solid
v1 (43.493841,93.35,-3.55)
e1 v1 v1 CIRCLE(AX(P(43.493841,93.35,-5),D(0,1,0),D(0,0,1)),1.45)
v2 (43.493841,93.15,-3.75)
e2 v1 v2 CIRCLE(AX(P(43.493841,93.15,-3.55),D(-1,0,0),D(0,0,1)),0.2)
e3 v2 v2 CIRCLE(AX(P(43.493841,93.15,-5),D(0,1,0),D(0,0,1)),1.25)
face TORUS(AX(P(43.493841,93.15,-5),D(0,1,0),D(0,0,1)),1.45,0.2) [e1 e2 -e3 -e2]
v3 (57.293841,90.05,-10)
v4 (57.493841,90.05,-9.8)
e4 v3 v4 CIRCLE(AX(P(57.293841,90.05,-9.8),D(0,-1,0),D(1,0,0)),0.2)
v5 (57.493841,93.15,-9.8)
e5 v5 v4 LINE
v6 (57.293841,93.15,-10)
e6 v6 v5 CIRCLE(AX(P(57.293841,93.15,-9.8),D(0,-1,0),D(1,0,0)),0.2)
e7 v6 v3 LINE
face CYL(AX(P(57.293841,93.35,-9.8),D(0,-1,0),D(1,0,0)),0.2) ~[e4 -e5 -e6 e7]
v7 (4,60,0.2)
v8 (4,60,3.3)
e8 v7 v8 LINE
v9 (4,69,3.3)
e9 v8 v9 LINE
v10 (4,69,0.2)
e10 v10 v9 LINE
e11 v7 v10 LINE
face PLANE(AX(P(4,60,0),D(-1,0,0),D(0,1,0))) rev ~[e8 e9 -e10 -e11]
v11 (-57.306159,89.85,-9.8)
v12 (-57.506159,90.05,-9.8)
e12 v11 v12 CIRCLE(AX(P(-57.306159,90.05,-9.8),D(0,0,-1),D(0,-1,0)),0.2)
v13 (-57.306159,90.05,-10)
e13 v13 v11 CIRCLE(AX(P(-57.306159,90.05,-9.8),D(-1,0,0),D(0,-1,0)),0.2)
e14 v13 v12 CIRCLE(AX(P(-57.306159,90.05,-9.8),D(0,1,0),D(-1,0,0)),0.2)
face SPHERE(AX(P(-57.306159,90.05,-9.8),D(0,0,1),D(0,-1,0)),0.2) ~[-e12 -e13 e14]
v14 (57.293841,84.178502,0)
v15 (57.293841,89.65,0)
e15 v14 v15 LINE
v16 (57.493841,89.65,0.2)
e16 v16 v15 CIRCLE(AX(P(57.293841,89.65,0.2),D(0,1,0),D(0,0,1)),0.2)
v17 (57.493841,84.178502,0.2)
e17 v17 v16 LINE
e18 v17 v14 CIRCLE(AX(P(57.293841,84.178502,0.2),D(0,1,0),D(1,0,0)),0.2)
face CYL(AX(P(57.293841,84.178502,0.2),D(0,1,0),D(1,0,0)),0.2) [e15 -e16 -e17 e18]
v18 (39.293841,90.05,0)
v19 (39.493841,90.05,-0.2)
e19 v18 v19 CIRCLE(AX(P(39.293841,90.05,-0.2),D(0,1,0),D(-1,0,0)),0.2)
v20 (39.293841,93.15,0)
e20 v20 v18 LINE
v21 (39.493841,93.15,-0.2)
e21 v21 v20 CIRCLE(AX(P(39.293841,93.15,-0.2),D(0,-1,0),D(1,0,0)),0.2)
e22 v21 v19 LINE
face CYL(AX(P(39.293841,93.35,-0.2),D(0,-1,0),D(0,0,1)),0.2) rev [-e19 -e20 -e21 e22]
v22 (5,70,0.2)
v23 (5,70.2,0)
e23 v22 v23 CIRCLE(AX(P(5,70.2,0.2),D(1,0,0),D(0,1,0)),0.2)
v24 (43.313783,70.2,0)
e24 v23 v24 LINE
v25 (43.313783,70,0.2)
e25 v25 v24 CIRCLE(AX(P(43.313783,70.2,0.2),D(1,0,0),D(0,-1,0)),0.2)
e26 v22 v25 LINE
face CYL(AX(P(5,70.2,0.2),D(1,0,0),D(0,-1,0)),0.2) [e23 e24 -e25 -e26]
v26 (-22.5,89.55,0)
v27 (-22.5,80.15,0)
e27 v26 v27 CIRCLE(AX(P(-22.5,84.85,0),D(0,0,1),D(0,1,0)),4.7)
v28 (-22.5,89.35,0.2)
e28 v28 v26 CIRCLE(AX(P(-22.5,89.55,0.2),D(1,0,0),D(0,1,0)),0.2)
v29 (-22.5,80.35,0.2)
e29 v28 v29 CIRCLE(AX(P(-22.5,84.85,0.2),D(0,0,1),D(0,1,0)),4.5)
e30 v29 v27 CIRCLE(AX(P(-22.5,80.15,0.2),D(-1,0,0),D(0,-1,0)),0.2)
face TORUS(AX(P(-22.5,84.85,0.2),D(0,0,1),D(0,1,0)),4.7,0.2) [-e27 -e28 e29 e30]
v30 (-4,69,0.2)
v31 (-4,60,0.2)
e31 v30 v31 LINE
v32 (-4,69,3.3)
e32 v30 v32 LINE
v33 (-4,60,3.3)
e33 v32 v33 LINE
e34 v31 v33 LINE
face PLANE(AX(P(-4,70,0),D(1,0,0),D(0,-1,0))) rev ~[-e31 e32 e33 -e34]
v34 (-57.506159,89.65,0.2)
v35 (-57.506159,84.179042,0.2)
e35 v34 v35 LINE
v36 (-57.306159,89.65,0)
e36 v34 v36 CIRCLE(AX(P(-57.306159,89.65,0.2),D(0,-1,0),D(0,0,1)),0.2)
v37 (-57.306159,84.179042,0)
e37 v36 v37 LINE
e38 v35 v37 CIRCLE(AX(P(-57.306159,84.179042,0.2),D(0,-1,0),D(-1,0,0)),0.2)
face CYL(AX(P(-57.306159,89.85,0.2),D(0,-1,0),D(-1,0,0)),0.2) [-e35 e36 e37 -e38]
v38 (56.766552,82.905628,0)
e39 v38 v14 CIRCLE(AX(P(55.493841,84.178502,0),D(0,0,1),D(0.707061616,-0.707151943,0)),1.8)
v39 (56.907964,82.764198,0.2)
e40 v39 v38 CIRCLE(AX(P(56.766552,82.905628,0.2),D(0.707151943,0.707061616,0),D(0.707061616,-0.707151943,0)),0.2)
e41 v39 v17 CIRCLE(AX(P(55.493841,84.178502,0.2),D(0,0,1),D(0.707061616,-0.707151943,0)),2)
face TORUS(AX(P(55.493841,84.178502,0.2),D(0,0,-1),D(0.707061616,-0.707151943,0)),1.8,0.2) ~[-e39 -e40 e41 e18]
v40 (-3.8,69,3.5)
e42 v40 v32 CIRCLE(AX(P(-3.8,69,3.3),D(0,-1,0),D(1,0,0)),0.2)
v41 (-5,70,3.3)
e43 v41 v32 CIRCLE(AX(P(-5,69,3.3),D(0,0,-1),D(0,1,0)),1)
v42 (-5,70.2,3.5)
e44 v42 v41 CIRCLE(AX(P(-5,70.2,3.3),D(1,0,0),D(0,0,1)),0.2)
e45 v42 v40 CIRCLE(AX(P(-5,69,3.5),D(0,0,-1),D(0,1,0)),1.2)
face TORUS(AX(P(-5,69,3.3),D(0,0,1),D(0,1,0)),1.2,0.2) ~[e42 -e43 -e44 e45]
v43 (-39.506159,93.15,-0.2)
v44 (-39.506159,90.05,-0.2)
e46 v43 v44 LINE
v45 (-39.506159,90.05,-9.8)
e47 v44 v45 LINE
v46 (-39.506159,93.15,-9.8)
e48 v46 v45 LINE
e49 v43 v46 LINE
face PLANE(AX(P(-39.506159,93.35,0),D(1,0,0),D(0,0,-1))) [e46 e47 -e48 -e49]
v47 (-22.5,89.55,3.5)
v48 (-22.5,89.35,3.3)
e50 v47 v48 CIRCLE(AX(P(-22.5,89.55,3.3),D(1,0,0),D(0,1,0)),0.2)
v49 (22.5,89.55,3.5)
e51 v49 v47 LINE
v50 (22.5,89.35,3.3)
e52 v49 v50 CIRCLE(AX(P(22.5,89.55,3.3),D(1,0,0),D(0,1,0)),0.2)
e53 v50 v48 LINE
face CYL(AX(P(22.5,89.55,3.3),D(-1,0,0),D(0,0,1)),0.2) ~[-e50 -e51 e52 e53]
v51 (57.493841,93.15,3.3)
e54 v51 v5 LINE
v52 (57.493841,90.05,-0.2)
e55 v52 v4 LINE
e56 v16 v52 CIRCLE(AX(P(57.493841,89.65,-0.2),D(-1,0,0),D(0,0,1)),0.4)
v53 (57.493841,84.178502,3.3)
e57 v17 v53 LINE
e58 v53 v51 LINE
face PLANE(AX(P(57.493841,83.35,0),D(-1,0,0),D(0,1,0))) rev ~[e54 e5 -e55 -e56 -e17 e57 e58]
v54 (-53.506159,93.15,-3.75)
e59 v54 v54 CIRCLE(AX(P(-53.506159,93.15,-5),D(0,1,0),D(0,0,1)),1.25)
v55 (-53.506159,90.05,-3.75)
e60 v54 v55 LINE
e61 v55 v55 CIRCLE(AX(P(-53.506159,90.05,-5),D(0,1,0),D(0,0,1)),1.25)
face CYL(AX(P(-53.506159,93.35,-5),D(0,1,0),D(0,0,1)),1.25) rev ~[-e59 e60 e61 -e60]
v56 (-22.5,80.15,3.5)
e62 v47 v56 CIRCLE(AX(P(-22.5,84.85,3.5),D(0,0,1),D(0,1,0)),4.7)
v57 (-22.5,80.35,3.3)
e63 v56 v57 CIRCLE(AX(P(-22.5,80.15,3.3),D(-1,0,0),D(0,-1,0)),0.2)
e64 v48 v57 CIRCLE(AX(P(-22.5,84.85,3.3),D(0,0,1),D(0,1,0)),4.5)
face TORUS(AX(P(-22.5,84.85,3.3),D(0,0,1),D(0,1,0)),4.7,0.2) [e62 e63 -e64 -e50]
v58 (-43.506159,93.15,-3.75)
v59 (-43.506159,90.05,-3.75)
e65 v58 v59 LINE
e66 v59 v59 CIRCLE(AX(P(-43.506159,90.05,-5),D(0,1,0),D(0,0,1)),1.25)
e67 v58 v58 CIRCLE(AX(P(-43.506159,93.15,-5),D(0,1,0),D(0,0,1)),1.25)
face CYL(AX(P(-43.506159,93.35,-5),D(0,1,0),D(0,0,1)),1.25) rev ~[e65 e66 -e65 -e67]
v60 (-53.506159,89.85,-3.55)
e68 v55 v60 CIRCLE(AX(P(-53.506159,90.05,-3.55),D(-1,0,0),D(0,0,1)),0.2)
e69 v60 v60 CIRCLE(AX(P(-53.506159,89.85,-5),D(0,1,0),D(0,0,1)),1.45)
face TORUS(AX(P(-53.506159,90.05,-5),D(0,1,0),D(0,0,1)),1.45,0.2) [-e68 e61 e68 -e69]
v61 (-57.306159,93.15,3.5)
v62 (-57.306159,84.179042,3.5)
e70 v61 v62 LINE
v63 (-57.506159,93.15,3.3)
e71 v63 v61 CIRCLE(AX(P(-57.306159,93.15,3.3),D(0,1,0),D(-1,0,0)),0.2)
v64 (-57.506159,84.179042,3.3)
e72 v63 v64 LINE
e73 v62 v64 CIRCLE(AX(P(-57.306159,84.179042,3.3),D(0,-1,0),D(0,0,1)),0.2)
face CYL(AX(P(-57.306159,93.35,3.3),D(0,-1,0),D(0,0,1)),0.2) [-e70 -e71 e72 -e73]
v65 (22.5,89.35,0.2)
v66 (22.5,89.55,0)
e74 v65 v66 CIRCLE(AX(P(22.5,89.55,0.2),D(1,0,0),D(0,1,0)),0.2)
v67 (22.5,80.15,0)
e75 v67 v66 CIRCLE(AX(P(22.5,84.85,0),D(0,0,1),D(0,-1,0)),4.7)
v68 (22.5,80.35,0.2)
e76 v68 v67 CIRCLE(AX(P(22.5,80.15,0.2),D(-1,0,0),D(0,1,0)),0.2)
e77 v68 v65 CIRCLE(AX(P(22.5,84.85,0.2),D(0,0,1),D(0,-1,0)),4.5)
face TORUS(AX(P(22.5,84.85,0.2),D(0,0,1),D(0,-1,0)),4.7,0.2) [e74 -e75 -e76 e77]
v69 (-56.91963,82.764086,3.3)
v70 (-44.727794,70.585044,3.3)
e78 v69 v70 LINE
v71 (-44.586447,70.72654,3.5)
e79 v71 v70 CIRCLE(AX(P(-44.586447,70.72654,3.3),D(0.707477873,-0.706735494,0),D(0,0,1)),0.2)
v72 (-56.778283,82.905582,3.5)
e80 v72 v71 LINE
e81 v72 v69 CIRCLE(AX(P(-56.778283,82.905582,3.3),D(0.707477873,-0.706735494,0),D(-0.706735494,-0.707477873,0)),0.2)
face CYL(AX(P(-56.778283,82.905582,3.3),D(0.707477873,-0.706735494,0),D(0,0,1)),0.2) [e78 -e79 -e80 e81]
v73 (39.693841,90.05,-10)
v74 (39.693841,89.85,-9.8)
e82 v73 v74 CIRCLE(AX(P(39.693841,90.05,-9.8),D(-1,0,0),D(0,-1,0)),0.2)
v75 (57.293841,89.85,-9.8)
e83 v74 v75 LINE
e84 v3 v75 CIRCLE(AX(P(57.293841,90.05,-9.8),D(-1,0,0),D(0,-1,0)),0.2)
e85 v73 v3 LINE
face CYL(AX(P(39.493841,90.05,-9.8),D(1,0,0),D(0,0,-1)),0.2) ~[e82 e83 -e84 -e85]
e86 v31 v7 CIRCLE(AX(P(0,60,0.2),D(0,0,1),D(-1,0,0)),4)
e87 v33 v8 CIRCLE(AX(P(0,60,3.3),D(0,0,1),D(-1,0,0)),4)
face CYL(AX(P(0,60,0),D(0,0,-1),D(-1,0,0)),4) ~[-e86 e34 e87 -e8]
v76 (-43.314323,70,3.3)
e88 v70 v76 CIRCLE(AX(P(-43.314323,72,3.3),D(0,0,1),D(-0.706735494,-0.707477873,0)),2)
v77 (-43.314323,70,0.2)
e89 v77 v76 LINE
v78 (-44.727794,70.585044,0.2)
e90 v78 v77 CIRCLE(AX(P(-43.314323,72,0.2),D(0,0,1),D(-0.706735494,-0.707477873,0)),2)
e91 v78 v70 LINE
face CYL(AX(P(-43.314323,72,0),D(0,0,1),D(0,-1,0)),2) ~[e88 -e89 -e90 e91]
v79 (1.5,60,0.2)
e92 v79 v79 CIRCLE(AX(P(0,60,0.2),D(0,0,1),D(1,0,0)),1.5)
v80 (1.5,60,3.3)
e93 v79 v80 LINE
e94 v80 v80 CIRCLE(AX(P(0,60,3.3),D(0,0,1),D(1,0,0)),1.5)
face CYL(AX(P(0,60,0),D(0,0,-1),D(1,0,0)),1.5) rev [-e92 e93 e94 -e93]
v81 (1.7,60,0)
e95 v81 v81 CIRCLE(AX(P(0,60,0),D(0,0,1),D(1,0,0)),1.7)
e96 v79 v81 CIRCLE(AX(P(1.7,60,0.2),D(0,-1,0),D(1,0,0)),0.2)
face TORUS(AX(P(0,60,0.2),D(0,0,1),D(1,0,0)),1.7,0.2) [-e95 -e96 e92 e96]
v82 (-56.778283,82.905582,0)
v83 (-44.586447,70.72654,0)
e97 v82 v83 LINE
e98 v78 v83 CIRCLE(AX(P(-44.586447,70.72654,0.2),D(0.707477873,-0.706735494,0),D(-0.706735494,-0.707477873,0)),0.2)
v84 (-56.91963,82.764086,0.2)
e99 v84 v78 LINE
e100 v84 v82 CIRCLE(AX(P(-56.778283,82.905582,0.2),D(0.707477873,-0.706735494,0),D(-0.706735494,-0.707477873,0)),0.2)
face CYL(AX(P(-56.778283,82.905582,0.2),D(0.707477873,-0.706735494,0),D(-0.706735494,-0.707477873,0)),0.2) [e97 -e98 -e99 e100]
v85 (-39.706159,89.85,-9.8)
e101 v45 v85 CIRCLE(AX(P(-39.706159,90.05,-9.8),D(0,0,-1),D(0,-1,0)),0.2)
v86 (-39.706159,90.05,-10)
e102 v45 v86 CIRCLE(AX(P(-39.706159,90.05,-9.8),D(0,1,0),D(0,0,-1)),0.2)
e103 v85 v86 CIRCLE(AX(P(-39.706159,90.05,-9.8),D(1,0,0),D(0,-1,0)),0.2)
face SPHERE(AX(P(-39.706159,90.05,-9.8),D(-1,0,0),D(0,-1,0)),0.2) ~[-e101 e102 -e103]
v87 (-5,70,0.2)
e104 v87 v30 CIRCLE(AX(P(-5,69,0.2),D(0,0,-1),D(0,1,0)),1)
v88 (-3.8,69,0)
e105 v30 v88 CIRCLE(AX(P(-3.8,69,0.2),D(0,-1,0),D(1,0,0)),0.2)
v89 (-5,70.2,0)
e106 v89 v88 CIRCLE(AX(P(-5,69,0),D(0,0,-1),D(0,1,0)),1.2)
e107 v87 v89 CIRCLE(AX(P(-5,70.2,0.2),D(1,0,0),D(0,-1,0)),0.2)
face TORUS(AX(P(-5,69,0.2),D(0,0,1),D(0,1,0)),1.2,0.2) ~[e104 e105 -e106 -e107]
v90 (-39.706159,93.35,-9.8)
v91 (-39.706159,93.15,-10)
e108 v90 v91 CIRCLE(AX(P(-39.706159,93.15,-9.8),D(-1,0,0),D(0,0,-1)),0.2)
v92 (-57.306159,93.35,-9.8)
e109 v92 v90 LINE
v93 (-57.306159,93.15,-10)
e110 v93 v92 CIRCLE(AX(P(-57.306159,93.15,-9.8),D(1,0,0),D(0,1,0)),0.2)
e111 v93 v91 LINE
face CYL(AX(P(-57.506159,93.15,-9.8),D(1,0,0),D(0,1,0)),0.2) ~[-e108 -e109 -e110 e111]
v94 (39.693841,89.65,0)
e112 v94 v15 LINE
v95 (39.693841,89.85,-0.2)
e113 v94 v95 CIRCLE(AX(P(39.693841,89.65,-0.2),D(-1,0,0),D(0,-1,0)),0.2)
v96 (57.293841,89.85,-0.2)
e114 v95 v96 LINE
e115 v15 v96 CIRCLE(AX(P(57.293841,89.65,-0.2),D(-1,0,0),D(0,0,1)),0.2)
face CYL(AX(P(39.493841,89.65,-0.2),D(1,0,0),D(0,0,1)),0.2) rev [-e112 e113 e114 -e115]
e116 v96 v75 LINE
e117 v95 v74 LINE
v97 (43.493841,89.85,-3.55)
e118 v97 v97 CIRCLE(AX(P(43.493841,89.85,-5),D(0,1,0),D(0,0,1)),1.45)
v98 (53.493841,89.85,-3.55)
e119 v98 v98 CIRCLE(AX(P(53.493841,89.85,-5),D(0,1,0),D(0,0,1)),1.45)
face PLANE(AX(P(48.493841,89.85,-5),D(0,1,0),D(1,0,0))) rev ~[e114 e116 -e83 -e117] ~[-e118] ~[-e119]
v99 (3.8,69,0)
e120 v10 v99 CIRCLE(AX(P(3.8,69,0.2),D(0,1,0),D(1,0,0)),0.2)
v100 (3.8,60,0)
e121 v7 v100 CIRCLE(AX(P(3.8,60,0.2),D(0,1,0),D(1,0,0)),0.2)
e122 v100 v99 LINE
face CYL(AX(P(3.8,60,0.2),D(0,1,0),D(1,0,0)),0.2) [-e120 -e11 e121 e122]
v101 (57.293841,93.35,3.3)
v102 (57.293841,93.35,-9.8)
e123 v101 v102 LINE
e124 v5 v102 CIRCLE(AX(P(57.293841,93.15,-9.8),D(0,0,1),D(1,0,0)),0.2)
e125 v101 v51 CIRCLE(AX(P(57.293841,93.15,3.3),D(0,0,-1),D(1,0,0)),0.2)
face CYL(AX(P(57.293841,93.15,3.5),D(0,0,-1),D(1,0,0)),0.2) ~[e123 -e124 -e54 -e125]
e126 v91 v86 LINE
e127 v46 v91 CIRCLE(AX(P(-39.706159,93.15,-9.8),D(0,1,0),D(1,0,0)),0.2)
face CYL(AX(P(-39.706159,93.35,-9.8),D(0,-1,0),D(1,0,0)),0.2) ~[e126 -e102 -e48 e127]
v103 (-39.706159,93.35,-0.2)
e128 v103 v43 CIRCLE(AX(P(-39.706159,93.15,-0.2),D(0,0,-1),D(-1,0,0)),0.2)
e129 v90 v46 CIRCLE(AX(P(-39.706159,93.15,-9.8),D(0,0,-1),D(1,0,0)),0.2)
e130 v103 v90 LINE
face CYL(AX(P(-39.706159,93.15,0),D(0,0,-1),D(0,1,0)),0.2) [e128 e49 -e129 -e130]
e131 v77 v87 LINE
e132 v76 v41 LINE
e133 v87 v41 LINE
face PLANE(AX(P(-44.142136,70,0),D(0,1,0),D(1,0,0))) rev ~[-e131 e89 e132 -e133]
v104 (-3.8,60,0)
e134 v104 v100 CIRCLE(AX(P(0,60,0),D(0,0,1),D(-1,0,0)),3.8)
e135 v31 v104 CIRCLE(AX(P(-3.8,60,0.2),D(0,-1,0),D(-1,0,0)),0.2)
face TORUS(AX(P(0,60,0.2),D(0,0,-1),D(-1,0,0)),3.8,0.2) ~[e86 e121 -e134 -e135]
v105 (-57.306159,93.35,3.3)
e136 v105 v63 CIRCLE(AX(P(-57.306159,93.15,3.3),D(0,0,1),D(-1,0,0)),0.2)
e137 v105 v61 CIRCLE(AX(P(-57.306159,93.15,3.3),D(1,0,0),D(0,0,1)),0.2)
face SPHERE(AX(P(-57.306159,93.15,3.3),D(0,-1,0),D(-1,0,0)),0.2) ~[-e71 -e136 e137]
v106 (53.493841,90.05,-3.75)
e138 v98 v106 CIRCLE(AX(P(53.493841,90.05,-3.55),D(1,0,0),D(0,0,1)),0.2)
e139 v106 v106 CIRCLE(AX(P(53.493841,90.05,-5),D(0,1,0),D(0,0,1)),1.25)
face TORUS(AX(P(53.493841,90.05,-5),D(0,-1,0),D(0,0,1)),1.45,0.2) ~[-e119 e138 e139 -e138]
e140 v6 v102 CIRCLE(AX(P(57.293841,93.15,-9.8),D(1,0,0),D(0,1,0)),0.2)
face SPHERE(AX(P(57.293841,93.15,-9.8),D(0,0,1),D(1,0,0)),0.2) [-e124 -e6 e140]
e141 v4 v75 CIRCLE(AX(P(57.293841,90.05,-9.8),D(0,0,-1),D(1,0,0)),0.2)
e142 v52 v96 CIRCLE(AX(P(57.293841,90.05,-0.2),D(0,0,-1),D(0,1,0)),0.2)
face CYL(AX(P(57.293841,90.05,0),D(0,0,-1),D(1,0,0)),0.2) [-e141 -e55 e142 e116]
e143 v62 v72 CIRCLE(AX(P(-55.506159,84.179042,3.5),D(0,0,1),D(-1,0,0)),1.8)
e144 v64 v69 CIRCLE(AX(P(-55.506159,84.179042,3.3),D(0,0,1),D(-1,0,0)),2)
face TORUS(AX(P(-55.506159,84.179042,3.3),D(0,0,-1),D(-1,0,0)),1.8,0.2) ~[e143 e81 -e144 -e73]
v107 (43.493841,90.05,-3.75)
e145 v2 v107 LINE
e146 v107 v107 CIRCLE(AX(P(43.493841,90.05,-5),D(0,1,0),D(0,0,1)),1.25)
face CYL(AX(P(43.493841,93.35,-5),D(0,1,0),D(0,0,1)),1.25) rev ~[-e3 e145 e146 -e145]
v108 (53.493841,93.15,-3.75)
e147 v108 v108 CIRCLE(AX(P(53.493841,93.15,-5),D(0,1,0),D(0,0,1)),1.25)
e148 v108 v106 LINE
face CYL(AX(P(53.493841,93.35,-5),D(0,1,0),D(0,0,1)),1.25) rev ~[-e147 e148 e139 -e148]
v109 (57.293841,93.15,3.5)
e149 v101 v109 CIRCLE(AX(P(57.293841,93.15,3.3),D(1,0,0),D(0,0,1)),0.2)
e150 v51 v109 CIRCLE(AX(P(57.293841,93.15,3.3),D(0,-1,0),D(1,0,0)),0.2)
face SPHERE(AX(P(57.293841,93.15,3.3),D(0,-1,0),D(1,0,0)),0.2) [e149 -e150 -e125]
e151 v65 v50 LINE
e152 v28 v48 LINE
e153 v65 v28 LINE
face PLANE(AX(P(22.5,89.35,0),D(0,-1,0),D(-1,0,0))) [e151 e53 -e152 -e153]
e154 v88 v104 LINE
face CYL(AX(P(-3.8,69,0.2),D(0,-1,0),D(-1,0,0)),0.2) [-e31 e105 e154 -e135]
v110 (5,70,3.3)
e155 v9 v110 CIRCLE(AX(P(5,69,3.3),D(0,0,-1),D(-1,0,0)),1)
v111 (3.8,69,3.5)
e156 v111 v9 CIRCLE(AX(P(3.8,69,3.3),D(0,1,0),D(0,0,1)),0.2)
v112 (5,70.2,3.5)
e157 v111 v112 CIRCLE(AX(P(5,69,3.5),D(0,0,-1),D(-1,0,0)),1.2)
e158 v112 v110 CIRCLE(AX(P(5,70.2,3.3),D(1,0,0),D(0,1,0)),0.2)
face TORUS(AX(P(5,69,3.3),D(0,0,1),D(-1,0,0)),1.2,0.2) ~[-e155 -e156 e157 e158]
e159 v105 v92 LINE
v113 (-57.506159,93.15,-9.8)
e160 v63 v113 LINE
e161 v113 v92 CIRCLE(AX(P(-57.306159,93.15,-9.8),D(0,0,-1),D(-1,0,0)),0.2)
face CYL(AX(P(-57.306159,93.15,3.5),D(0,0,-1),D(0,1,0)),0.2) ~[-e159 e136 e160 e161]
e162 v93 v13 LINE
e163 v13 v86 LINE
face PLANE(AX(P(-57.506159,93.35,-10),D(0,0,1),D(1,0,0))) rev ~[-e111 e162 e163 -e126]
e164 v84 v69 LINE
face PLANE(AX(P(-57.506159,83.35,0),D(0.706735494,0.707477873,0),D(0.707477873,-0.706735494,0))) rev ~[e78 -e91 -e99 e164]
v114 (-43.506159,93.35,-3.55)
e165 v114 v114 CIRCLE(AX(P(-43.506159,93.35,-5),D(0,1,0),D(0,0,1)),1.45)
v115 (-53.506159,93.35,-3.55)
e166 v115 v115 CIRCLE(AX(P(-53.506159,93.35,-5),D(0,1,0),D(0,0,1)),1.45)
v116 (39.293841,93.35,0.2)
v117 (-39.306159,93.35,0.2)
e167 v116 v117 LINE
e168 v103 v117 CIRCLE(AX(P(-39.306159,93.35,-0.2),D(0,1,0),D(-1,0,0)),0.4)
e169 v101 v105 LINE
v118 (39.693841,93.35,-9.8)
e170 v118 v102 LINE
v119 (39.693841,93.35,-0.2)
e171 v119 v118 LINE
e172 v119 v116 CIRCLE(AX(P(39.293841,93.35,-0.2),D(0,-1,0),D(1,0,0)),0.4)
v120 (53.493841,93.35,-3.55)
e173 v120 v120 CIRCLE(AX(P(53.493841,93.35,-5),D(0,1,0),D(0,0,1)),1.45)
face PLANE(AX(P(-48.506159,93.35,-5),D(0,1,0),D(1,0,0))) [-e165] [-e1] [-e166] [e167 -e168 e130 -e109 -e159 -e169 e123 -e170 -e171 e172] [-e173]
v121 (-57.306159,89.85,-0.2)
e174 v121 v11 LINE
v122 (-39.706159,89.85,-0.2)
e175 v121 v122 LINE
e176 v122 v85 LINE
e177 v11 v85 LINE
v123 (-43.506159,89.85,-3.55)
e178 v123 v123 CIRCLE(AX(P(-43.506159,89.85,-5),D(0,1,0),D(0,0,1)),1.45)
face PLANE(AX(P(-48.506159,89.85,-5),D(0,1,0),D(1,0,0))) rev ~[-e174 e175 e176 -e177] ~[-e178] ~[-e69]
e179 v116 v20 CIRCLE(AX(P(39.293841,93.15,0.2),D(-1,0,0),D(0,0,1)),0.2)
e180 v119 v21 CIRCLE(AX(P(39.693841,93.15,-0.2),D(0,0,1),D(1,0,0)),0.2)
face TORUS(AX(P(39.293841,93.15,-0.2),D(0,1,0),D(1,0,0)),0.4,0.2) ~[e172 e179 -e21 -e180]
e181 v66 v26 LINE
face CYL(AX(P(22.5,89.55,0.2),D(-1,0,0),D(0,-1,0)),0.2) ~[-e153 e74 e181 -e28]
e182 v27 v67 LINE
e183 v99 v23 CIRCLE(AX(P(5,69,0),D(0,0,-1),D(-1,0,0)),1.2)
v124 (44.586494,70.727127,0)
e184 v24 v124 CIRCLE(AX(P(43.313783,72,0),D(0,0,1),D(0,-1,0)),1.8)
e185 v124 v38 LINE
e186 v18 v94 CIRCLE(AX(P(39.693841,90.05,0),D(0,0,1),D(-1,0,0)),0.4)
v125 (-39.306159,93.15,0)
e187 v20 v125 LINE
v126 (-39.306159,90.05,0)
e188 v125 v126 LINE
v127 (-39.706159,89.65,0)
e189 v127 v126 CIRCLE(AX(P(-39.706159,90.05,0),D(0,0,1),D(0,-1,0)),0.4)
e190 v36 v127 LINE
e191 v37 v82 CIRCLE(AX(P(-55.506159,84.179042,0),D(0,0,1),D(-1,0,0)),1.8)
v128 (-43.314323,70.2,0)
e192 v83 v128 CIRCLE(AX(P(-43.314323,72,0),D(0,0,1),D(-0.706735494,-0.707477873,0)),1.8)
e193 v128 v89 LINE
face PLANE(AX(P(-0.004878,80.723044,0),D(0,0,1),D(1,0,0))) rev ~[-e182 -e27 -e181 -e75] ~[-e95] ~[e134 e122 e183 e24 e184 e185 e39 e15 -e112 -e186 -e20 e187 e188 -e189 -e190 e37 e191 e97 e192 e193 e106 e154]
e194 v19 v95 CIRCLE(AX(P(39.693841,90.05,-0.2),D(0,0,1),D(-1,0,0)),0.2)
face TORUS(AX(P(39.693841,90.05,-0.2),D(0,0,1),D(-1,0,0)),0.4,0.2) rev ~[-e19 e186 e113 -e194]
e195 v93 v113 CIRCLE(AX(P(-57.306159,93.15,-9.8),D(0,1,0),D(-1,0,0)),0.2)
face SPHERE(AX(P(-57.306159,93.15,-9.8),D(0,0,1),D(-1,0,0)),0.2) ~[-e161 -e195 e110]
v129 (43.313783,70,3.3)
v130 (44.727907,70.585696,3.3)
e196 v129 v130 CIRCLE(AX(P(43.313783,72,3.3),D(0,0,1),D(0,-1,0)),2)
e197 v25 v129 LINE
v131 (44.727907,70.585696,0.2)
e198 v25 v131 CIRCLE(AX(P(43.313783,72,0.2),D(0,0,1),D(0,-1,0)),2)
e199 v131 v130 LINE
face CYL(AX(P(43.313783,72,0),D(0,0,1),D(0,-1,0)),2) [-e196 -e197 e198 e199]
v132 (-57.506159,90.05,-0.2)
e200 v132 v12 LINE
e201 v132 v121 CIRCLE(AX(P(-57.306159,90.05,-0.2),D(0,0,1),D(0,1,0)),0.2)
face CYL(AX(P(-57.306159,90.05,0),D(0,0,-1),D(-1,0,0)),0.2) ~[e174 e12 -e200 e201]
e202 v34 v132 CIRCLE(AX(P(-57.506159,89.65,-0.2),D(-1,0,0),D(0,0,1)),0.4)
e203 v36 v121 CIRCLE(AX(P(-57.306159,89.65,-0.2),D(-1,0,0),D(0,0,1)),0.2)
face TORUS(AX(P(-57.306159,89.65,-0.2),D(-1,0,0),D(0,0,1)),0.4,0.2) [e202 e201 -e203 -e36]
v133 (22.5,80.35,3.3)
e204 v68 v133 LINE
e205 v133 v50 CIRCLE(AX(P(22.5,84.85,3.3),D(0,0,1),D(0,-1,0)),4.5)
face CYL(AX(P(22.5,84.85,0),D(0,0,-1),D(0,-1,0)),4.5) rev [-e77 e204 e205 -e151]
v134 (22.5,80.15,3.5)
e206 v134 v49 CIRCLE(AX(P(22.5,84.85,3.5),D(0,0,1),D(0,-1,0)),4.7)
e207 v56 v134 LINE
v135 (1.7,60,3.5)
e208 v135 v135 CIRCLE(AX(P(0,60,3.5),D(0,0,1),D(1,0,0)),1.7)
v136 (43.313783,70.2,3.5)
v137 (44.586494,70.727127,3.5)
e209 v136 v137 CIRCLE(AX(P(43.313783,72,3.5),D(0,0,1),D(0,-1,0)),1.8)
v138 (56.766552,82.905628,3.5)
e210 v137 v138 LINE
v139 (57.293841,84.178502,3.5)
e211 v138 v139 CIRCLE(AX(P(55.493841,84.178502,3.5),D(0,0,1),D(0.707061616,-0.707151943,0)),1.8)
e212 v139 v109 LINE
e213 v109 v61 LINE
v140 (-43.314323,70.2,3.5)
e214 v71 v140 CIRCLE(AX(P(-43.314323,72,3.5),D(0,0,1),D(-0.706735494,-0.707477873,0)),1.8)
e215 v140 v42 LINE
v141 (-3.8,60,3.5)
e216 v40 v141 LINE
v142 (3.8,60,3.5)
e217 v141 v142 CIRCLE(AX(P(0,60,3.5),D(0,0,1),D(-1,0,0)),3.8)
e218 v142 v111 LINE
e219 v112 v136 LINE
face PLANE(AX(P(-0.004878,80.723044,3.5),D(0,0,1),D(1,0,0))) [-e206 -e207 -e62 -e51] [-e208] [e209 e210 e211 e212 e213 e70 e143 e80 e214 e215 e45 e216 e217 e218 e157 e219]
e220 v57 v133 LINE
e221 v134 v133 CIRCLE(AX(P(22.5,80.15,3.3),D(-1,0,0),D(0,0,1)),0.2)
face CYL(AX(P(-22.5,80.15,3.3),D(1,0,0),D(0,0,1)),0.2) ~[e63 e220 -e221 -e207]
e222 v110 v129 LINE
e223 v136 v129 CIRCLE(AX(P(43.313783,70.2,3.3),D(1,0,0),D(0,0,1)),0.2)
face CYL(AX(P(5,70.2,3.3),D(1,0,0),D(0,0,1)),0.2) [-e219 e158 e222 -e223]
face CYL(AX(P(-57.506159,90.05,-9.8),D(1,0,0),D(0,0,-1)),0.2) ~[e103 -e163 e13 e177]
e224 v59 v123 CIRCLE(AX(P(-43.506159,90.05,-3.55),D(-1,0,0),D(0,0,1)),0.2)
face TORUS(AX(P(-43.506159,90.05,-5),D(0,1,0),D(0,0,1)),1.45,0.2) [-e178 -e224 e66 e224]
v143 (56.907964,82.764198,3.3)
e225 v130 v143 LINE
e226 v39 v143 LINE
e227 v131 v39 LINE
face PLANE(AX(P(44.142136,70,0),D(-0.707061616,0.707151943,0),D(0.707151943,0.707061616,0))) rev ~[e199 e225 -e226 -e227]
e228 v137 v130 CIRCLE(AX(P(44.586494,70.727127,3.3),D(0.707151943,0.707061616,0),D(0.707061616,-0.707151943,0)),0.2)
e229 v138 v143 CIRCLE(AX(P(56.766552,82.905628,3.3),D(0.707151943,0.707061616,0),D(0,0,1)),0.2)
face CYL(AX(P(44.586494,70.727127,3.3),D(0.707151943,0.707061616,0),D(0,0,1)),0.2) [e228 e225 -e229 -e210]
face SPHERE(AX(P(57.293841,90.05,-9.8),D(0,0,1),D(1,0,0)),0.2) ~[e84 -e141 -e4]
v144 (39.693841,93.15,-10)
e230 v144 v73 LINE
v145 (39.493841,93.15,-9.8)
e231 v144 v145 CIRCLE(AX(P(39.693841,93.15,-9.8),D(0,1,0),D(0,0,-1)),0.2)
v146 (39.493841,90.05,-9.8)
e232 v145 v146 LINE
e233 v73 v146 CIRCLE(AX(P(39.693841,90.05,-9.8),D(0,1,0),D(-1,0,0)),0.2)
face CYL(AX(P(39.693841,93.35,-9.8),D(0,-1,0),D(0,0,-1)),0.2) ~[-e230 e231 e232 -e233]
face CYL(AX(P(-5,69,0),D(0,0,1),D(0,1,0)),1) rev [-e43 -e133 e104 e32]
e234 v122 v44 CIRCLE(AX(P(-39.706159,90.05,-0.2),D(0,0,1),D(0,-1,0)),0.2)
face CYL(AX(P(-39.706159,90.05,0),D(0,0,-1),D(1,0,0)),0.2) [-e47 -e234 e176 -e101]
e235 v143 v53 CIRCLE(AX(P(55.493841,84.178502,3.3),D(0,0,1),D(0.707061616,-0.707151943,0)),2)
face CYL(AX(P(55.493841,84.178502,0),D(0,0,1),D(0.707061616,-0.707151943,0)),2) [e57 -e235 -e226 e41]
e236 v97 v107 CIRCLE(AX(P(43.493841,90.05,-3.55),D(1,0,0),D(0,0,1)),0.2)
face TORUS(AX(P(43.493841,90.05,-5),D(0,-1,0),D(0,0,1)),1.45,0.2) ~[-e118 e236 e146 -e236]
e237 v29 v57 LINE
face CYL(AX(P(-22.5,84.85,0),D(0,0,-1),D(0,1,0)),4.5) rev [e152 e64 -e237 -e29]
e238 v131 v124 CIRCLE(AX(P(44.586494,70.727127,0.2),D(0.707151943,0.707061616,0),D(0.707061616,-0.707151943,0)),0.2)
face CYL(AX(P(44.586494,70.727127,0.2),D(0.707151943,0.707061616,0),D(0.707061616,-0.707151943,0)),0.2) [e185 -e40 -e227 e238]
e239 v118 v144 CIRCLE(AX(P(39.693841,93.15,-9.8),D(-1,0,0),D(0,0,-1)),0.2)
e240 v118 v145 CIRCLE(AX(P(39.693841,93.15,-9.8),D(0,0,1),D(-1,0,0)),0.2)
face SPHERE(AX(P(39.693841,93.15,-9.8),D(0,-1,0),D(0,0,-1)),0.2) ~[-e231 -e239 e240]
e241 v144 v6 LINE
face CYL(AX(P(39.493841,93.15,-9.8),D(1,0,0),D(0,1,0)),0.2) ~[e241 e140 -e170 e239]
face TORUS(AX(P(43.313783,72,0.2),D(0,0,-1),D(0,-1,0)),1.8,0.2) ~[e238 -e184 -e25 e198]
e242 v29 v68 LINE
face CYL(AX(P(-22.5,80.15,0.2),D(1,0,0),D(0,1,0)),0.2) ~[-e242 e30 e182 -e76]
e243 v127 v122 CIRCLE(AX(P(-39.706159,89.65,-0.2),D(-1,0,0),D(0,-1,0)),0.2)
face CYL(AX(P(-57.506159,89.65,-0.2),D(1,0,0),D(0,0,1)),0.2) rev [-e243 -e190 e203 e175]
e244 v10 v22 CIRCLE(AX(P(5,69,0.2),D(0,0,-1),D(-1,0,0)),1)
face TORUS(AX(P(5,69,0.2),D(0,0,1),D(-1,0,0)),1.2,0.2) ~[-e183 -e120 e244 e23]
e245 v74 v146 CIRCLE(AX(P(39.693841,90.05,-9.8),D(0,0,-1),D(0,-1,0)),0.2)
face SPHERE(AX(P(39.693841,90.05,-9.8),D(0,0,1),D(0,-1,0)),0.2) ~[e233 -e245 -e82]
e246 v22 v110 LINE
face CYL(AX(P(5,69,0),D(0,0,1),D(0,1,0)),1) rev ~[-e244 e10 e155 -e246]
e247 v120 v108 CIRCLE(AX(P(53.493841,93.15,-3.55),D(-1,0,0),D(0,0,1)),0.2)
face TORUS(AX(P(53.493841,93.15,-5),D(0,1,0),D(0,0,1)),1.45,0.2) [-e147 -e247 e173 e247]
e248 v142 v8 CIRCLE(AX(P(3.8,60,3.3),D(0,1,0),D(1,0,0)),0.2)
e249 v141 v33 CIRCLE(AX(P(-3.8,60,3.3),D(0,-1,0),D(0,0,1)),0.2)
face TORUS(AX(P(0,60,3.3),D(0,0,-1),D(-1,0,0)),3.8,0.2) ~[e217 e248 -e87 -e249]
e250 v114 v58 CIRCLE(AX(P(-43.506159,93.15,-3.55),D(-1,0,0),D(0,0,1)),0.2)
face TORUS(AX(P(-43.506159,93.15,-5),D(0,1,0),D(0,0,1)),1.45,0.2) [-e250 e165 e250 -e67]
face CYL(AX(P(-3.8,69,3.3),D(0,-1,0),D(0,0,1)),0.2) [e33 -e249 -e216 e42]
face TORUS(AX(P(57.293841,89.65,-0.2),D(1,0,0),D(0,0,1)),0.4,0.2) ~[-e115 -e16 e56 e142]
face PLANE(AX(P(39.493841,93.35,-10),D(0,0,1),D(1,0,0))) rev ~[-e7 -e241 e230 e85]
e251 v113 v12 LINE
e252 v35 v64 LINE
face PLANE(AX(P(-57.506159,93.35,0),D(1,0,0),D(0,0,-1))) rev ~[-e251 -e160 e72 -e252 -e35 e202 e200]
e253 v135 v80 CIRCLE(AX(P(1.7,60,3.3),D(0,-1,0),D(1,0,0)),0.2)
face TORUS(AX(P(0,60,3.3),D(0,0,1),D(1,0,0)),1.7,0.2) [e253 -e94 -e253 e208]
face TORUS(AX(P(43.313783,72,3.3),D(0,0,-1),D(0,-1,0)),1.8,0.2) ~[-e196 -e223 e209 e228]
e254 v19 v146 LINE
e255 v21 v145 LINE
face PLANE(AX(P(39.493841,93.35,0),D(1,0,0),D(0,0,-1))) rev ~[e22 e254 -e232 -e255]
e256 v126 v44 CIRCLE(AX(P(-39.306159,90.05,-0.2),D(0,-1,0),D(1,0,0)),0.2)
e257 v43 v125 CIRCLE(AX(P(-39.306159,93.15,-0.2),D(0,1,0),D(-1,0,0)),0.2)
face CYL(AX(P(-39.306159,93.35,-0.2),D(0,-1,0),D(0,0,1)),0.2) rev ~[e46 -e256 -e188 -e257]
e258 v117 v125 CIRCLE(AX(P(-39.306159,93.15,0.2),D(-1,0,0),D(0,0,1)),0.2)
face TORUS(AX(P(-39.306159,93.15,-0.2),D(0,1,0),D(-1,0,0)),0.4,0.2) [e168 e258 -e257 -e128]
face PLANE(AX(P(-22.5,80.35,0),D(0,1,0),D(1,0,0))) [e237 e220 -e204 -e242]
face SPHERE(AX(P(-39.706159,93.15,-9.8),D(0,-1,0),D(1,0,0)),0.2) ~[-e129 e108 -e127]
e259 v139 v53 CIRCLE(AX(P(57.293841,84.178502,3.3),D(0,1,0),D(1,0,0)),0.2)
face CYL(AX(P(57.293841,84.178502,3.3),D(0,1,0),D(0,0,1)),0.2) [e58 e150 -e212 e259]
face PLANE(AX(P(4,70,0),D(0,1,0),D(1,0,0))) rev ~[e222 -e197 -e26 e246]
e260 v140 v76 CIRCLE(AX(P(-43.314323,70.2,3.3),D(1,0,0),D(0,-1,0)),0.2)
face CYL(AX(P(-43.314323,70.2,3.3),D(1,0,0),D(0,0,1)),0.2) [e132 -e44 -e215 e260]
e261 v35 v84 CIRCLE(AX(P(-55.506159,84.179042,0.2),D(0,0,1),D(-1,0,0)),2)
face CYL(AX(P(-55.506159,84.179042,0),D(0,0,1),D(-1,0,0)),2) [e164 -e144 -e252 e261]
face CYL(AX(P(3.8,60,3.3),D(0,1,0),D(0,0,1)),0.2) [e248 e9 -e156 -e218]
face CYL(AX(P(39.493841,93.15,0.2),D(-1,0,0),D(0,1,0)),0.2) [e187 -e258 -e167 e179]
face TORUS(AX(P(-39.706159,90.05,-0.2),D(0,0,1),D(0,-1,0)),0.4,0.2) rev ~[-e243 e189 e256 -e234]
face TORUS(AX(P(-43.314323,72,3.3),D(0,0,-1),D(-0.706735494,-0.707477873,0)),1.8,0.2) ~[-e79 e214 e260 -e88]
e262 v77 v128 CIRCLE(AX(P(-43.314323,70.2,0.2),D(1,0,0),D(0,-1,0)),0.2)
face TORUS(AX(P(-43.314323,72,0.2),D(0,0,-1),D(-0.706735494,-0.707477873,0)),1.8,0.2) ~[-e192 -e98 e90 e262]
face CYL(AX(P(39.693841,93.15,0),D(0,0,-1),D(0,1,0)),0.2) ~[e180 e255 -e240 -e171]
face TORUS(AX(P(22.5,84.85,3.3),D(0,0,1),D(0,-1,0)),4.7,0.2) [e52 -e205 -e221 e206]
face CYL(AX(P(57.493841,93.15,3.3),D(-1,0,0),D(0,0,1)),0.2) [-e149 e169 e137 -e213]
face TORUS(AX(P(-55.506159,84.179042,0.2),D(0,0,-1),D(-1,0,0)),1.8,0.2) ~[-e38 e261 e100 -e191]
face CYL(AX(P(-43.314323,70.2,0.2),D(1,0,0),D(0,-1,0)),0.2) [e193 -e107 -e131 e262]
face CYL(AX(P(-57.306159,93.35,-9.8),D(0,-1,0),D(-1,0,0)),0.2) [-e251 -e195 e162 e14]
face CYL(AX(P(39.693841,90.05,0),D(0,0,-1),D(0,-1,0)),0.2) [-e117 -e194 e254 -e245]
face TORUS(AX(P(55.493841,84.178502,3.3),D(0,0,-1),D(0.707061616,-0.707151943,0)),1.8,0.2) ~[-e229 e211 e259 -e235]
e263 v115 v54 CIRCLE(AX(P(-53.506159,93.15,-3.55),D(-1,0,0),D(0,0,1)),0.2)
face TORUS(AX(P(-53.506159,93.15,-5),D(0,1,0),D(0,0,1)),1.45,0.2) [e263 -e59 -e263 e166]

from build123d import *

# Parameters (mm, degrees)
SKETCH5_R           = 1.5
BOSS_EXTRUDE1_DEPTH = 3.5
SKETCH6_W           = 18
SKETCH6_H           = 10
SKETCH6_R           = 1.25
BOSS_EXTRUDE2_DEPTH = 3.5
FILLET1_R           = 2
FILLET2_R           = 1
FILLET5_R           = 0.2


with BuildPart() as part:
    # Sketch5 → Boss-Extrude1 (new body)
    with BuildSketch(Plane.XY):
        with BuildLine():
            Line((57.49384108, 93.35), (-57.50615892, 93.35))
            Line((-57.50615892, 93.35), (-57.50615892, 83.35))
            Line((-57.50615892, 83.35), (-44.142135624, 70))
            Line((-44.142135624, 70), (-4, 70))
            Line((-4, 70), (-4, 60))
            ThreePointArc((-4, 60), (0, 56), (4, 60))
            Line((4, 60), (4, 70))
            Line((4, 70), (44.142135624, 70))
            Line((44.142135624, 70), (57.49384108, 83.35))
            Line((57.49384108, 83.35), (57.49384108, 93.35))
        make_face()
        with Locations((0, 60)):
            Circle(SKETCH5_R, mode=Mode.SUBTRACT)
        with BuildLine():
            Line((22.5, 89.35), (-22.5, 89.35))
            ThreePointArc((-22.5, 89.35), (-27, 84.85), (-22.5, 80.35))
            Line((-22.5, 80.35), (22.5, 80.35))
            ThreePointArc((22.5, 80.35), (27, 84.85), (22.5, 89.35))
        make_face(mode=Mode.SUBTRACT)
    extrude(amount=BOSS_EXTRUDE1_DEPTH)

    # Sketch6 → Boss-Extrude2 (add)
    # profile 1 of 2: a face of its own
    with BuildSketch(Plane(origin=(0, 93.35, 0), x_dir=(1, 0, 0), z_dir=(0, 1, 0))):
        with Locations((-48.50615892, 5)):
            Rectangle(SKETCH6_W, SKETCH6_H)
        with Locations(Location((-53.50615892, 5, 0), (0, 0, 270))):
            Circle(SKETCH6_R, mode=Mode.SUBTRACT)
        with Locations(Location((-43.50615892, 5, 0), (0, 0, 270))):
            Circle(SKETCH6_R, mode=Mode.SUBTRACT)
    # profile 2 of 2: a face of its own
    with BuildSketch(Plane(origin=(0, 93.35, 0), x_dir=(1, 0, 0), z_dir=(0, 1, 0))):
        with Locations((48.49384108, 5)):
            Rectangle(SKETCH6_W, SKETCH6_H)
        with Locations(Location((43.49384108, 5, 0), (0, 0, 270))):
            Circle(SKETCH6_R, mode=Mode.SUBTRACT)
        with Locations(Location((53.49384108, 5, 0), (0, 0, 270))):
            Circle(SKETCH6_R, mode=Mode.SUBTRACT)
    extrude(amount=-BOSS_EXTRUDE2_DEPTH)

    # Fillet1
    fillet1_edges = [part.edges().sort_by_distance(p)[0] for p in [
        (57.49384108, 83.35, 1.75),
        (44.142135624, 70, 1.75),
        (-44.142135624, 70, 1.75),
        (-57.50615892, 83.35, 1.75),
    ]]
    fillet(fillet1_edges, radius=FILLET1_R)

    # Fillet2
    fillet2_edges = [part.edges().sort_by_distance(p)[0] for p in [
        (4, 70, 1.75),
        (-4, 70, 1.75),
    ]]
    fillet(fillet2_edges, radius=FILLET2_R)

    # Fillet5
    fillet5_edges = [part.edges().sort_by_distance(p)[0] for p in [
        (24.156891664, 70, 0),
        (24.156891664, 70, 3.5),
        (-4, 64.5, 0),
        (-4, 64.5, 3.5),
        (4.292893219, 69.707106781, 0),
        (4.292893219, 69.707106781, 3.5),
        (-4.292893219, 69.707106781, 0),
        (-4.292893219, 69.707106781, 3.5),
        (4, 64.5, 0),
        (0, 56, 0),
        (-57.50615892, 93.35, -3.25),
        (57.49384108, 93.35, -3.25),
        (0, 56, 3.5),
        (4, 64.5, 3.5),
        (-1.5, 60, 0),
        (-1.5, 60, 3.5),
        (-27, 84.85, 0),
        (0, 80.35, 0),
        (27, 84.85, 0),
        (0, 89.35, 0),
        (-27, 84.85, 3.5),
        (0, 80.35, 3.5),
        (27, 84.85, 3.5),
        (0, 89.35, 3.5),
        (-0.00615892, 93.35, 3.5),
        (-57.50615892, 87.014521099, 0),
        (-57.50615892, 89.85, -5),
        (-48.50615892, 89.85, -10),
        (-57.50615892, 88.764521099, 3.5),
        (-57.50615892, 91.6, -10),
        (-39.50615892, 89.85, -5),
        (-39.50615892, 91.6, -10),
        (-48.50615892, 89.85, 0),
        (-39.50615892, 91.6, 0),
        (-43.50615892, 89.85, -6.25),
        (-53.50615892, 89.85, -6.25),
        (-39.50615892, 93.35, -5),
        (-48.50615892, 93.35, -10),
        (-53.50615892, 93.35, -6.25),
        (-43.50615892, 93.35, -6.25),
        (-0.00615892, 93.35, 0),
        (57.49384108, 89.85, -5),
        (57.49384108, 91.6, -10),
        (48.49384108, 89.85, 0),
        (39.49384108, 89.85, -5),
        (39.49384108, 91.6, 0),
        (48.49384108, 89.85, -10),
        (39.49384108, 91.6, -10),
        (53.49384108, 89.85, -6.25),
        (43.49384108, 89.85, -6.25),
        (48.49384108, 93.35, -10),
        (39.49384108, 93.35, -5),
        (43.49384108, 93.35, -6.25),
        (53.49384108, 93.35, -6.25),
        (57.49384108, 87.014250977, 0),
        (57.49384108, 88.764250977, 3.5),
        (50.817935436, 76.674947091, 0),
        (-24.15716172, 70, 0),
        (-50.823712168, 76.674565353, 0),
        (-57.353717035, 83.413190378, 0),
        (-44.079205295, 70.152040112, 0),
        (44.079091183, 70.152216494, 0),
        (57.341575702, 83.413076082, 0),
        (50.817935436, 76.674947091, 3.5),
        (-50.823712168, 76.674565353, 3.5),
        (-24.15716172, 70, 3.5),
        (-57.353717035, 83.413190378, 3.5),
        (-44.079205295, 70.152040112, 3.5),
        (44.079091183, 70.152216494, 3.5),
        (57.341575702, 83.413076082, 3.5),
    ]]
    fillet(fillet5_edges, radius=FILLET5_R)


solid = part.part
